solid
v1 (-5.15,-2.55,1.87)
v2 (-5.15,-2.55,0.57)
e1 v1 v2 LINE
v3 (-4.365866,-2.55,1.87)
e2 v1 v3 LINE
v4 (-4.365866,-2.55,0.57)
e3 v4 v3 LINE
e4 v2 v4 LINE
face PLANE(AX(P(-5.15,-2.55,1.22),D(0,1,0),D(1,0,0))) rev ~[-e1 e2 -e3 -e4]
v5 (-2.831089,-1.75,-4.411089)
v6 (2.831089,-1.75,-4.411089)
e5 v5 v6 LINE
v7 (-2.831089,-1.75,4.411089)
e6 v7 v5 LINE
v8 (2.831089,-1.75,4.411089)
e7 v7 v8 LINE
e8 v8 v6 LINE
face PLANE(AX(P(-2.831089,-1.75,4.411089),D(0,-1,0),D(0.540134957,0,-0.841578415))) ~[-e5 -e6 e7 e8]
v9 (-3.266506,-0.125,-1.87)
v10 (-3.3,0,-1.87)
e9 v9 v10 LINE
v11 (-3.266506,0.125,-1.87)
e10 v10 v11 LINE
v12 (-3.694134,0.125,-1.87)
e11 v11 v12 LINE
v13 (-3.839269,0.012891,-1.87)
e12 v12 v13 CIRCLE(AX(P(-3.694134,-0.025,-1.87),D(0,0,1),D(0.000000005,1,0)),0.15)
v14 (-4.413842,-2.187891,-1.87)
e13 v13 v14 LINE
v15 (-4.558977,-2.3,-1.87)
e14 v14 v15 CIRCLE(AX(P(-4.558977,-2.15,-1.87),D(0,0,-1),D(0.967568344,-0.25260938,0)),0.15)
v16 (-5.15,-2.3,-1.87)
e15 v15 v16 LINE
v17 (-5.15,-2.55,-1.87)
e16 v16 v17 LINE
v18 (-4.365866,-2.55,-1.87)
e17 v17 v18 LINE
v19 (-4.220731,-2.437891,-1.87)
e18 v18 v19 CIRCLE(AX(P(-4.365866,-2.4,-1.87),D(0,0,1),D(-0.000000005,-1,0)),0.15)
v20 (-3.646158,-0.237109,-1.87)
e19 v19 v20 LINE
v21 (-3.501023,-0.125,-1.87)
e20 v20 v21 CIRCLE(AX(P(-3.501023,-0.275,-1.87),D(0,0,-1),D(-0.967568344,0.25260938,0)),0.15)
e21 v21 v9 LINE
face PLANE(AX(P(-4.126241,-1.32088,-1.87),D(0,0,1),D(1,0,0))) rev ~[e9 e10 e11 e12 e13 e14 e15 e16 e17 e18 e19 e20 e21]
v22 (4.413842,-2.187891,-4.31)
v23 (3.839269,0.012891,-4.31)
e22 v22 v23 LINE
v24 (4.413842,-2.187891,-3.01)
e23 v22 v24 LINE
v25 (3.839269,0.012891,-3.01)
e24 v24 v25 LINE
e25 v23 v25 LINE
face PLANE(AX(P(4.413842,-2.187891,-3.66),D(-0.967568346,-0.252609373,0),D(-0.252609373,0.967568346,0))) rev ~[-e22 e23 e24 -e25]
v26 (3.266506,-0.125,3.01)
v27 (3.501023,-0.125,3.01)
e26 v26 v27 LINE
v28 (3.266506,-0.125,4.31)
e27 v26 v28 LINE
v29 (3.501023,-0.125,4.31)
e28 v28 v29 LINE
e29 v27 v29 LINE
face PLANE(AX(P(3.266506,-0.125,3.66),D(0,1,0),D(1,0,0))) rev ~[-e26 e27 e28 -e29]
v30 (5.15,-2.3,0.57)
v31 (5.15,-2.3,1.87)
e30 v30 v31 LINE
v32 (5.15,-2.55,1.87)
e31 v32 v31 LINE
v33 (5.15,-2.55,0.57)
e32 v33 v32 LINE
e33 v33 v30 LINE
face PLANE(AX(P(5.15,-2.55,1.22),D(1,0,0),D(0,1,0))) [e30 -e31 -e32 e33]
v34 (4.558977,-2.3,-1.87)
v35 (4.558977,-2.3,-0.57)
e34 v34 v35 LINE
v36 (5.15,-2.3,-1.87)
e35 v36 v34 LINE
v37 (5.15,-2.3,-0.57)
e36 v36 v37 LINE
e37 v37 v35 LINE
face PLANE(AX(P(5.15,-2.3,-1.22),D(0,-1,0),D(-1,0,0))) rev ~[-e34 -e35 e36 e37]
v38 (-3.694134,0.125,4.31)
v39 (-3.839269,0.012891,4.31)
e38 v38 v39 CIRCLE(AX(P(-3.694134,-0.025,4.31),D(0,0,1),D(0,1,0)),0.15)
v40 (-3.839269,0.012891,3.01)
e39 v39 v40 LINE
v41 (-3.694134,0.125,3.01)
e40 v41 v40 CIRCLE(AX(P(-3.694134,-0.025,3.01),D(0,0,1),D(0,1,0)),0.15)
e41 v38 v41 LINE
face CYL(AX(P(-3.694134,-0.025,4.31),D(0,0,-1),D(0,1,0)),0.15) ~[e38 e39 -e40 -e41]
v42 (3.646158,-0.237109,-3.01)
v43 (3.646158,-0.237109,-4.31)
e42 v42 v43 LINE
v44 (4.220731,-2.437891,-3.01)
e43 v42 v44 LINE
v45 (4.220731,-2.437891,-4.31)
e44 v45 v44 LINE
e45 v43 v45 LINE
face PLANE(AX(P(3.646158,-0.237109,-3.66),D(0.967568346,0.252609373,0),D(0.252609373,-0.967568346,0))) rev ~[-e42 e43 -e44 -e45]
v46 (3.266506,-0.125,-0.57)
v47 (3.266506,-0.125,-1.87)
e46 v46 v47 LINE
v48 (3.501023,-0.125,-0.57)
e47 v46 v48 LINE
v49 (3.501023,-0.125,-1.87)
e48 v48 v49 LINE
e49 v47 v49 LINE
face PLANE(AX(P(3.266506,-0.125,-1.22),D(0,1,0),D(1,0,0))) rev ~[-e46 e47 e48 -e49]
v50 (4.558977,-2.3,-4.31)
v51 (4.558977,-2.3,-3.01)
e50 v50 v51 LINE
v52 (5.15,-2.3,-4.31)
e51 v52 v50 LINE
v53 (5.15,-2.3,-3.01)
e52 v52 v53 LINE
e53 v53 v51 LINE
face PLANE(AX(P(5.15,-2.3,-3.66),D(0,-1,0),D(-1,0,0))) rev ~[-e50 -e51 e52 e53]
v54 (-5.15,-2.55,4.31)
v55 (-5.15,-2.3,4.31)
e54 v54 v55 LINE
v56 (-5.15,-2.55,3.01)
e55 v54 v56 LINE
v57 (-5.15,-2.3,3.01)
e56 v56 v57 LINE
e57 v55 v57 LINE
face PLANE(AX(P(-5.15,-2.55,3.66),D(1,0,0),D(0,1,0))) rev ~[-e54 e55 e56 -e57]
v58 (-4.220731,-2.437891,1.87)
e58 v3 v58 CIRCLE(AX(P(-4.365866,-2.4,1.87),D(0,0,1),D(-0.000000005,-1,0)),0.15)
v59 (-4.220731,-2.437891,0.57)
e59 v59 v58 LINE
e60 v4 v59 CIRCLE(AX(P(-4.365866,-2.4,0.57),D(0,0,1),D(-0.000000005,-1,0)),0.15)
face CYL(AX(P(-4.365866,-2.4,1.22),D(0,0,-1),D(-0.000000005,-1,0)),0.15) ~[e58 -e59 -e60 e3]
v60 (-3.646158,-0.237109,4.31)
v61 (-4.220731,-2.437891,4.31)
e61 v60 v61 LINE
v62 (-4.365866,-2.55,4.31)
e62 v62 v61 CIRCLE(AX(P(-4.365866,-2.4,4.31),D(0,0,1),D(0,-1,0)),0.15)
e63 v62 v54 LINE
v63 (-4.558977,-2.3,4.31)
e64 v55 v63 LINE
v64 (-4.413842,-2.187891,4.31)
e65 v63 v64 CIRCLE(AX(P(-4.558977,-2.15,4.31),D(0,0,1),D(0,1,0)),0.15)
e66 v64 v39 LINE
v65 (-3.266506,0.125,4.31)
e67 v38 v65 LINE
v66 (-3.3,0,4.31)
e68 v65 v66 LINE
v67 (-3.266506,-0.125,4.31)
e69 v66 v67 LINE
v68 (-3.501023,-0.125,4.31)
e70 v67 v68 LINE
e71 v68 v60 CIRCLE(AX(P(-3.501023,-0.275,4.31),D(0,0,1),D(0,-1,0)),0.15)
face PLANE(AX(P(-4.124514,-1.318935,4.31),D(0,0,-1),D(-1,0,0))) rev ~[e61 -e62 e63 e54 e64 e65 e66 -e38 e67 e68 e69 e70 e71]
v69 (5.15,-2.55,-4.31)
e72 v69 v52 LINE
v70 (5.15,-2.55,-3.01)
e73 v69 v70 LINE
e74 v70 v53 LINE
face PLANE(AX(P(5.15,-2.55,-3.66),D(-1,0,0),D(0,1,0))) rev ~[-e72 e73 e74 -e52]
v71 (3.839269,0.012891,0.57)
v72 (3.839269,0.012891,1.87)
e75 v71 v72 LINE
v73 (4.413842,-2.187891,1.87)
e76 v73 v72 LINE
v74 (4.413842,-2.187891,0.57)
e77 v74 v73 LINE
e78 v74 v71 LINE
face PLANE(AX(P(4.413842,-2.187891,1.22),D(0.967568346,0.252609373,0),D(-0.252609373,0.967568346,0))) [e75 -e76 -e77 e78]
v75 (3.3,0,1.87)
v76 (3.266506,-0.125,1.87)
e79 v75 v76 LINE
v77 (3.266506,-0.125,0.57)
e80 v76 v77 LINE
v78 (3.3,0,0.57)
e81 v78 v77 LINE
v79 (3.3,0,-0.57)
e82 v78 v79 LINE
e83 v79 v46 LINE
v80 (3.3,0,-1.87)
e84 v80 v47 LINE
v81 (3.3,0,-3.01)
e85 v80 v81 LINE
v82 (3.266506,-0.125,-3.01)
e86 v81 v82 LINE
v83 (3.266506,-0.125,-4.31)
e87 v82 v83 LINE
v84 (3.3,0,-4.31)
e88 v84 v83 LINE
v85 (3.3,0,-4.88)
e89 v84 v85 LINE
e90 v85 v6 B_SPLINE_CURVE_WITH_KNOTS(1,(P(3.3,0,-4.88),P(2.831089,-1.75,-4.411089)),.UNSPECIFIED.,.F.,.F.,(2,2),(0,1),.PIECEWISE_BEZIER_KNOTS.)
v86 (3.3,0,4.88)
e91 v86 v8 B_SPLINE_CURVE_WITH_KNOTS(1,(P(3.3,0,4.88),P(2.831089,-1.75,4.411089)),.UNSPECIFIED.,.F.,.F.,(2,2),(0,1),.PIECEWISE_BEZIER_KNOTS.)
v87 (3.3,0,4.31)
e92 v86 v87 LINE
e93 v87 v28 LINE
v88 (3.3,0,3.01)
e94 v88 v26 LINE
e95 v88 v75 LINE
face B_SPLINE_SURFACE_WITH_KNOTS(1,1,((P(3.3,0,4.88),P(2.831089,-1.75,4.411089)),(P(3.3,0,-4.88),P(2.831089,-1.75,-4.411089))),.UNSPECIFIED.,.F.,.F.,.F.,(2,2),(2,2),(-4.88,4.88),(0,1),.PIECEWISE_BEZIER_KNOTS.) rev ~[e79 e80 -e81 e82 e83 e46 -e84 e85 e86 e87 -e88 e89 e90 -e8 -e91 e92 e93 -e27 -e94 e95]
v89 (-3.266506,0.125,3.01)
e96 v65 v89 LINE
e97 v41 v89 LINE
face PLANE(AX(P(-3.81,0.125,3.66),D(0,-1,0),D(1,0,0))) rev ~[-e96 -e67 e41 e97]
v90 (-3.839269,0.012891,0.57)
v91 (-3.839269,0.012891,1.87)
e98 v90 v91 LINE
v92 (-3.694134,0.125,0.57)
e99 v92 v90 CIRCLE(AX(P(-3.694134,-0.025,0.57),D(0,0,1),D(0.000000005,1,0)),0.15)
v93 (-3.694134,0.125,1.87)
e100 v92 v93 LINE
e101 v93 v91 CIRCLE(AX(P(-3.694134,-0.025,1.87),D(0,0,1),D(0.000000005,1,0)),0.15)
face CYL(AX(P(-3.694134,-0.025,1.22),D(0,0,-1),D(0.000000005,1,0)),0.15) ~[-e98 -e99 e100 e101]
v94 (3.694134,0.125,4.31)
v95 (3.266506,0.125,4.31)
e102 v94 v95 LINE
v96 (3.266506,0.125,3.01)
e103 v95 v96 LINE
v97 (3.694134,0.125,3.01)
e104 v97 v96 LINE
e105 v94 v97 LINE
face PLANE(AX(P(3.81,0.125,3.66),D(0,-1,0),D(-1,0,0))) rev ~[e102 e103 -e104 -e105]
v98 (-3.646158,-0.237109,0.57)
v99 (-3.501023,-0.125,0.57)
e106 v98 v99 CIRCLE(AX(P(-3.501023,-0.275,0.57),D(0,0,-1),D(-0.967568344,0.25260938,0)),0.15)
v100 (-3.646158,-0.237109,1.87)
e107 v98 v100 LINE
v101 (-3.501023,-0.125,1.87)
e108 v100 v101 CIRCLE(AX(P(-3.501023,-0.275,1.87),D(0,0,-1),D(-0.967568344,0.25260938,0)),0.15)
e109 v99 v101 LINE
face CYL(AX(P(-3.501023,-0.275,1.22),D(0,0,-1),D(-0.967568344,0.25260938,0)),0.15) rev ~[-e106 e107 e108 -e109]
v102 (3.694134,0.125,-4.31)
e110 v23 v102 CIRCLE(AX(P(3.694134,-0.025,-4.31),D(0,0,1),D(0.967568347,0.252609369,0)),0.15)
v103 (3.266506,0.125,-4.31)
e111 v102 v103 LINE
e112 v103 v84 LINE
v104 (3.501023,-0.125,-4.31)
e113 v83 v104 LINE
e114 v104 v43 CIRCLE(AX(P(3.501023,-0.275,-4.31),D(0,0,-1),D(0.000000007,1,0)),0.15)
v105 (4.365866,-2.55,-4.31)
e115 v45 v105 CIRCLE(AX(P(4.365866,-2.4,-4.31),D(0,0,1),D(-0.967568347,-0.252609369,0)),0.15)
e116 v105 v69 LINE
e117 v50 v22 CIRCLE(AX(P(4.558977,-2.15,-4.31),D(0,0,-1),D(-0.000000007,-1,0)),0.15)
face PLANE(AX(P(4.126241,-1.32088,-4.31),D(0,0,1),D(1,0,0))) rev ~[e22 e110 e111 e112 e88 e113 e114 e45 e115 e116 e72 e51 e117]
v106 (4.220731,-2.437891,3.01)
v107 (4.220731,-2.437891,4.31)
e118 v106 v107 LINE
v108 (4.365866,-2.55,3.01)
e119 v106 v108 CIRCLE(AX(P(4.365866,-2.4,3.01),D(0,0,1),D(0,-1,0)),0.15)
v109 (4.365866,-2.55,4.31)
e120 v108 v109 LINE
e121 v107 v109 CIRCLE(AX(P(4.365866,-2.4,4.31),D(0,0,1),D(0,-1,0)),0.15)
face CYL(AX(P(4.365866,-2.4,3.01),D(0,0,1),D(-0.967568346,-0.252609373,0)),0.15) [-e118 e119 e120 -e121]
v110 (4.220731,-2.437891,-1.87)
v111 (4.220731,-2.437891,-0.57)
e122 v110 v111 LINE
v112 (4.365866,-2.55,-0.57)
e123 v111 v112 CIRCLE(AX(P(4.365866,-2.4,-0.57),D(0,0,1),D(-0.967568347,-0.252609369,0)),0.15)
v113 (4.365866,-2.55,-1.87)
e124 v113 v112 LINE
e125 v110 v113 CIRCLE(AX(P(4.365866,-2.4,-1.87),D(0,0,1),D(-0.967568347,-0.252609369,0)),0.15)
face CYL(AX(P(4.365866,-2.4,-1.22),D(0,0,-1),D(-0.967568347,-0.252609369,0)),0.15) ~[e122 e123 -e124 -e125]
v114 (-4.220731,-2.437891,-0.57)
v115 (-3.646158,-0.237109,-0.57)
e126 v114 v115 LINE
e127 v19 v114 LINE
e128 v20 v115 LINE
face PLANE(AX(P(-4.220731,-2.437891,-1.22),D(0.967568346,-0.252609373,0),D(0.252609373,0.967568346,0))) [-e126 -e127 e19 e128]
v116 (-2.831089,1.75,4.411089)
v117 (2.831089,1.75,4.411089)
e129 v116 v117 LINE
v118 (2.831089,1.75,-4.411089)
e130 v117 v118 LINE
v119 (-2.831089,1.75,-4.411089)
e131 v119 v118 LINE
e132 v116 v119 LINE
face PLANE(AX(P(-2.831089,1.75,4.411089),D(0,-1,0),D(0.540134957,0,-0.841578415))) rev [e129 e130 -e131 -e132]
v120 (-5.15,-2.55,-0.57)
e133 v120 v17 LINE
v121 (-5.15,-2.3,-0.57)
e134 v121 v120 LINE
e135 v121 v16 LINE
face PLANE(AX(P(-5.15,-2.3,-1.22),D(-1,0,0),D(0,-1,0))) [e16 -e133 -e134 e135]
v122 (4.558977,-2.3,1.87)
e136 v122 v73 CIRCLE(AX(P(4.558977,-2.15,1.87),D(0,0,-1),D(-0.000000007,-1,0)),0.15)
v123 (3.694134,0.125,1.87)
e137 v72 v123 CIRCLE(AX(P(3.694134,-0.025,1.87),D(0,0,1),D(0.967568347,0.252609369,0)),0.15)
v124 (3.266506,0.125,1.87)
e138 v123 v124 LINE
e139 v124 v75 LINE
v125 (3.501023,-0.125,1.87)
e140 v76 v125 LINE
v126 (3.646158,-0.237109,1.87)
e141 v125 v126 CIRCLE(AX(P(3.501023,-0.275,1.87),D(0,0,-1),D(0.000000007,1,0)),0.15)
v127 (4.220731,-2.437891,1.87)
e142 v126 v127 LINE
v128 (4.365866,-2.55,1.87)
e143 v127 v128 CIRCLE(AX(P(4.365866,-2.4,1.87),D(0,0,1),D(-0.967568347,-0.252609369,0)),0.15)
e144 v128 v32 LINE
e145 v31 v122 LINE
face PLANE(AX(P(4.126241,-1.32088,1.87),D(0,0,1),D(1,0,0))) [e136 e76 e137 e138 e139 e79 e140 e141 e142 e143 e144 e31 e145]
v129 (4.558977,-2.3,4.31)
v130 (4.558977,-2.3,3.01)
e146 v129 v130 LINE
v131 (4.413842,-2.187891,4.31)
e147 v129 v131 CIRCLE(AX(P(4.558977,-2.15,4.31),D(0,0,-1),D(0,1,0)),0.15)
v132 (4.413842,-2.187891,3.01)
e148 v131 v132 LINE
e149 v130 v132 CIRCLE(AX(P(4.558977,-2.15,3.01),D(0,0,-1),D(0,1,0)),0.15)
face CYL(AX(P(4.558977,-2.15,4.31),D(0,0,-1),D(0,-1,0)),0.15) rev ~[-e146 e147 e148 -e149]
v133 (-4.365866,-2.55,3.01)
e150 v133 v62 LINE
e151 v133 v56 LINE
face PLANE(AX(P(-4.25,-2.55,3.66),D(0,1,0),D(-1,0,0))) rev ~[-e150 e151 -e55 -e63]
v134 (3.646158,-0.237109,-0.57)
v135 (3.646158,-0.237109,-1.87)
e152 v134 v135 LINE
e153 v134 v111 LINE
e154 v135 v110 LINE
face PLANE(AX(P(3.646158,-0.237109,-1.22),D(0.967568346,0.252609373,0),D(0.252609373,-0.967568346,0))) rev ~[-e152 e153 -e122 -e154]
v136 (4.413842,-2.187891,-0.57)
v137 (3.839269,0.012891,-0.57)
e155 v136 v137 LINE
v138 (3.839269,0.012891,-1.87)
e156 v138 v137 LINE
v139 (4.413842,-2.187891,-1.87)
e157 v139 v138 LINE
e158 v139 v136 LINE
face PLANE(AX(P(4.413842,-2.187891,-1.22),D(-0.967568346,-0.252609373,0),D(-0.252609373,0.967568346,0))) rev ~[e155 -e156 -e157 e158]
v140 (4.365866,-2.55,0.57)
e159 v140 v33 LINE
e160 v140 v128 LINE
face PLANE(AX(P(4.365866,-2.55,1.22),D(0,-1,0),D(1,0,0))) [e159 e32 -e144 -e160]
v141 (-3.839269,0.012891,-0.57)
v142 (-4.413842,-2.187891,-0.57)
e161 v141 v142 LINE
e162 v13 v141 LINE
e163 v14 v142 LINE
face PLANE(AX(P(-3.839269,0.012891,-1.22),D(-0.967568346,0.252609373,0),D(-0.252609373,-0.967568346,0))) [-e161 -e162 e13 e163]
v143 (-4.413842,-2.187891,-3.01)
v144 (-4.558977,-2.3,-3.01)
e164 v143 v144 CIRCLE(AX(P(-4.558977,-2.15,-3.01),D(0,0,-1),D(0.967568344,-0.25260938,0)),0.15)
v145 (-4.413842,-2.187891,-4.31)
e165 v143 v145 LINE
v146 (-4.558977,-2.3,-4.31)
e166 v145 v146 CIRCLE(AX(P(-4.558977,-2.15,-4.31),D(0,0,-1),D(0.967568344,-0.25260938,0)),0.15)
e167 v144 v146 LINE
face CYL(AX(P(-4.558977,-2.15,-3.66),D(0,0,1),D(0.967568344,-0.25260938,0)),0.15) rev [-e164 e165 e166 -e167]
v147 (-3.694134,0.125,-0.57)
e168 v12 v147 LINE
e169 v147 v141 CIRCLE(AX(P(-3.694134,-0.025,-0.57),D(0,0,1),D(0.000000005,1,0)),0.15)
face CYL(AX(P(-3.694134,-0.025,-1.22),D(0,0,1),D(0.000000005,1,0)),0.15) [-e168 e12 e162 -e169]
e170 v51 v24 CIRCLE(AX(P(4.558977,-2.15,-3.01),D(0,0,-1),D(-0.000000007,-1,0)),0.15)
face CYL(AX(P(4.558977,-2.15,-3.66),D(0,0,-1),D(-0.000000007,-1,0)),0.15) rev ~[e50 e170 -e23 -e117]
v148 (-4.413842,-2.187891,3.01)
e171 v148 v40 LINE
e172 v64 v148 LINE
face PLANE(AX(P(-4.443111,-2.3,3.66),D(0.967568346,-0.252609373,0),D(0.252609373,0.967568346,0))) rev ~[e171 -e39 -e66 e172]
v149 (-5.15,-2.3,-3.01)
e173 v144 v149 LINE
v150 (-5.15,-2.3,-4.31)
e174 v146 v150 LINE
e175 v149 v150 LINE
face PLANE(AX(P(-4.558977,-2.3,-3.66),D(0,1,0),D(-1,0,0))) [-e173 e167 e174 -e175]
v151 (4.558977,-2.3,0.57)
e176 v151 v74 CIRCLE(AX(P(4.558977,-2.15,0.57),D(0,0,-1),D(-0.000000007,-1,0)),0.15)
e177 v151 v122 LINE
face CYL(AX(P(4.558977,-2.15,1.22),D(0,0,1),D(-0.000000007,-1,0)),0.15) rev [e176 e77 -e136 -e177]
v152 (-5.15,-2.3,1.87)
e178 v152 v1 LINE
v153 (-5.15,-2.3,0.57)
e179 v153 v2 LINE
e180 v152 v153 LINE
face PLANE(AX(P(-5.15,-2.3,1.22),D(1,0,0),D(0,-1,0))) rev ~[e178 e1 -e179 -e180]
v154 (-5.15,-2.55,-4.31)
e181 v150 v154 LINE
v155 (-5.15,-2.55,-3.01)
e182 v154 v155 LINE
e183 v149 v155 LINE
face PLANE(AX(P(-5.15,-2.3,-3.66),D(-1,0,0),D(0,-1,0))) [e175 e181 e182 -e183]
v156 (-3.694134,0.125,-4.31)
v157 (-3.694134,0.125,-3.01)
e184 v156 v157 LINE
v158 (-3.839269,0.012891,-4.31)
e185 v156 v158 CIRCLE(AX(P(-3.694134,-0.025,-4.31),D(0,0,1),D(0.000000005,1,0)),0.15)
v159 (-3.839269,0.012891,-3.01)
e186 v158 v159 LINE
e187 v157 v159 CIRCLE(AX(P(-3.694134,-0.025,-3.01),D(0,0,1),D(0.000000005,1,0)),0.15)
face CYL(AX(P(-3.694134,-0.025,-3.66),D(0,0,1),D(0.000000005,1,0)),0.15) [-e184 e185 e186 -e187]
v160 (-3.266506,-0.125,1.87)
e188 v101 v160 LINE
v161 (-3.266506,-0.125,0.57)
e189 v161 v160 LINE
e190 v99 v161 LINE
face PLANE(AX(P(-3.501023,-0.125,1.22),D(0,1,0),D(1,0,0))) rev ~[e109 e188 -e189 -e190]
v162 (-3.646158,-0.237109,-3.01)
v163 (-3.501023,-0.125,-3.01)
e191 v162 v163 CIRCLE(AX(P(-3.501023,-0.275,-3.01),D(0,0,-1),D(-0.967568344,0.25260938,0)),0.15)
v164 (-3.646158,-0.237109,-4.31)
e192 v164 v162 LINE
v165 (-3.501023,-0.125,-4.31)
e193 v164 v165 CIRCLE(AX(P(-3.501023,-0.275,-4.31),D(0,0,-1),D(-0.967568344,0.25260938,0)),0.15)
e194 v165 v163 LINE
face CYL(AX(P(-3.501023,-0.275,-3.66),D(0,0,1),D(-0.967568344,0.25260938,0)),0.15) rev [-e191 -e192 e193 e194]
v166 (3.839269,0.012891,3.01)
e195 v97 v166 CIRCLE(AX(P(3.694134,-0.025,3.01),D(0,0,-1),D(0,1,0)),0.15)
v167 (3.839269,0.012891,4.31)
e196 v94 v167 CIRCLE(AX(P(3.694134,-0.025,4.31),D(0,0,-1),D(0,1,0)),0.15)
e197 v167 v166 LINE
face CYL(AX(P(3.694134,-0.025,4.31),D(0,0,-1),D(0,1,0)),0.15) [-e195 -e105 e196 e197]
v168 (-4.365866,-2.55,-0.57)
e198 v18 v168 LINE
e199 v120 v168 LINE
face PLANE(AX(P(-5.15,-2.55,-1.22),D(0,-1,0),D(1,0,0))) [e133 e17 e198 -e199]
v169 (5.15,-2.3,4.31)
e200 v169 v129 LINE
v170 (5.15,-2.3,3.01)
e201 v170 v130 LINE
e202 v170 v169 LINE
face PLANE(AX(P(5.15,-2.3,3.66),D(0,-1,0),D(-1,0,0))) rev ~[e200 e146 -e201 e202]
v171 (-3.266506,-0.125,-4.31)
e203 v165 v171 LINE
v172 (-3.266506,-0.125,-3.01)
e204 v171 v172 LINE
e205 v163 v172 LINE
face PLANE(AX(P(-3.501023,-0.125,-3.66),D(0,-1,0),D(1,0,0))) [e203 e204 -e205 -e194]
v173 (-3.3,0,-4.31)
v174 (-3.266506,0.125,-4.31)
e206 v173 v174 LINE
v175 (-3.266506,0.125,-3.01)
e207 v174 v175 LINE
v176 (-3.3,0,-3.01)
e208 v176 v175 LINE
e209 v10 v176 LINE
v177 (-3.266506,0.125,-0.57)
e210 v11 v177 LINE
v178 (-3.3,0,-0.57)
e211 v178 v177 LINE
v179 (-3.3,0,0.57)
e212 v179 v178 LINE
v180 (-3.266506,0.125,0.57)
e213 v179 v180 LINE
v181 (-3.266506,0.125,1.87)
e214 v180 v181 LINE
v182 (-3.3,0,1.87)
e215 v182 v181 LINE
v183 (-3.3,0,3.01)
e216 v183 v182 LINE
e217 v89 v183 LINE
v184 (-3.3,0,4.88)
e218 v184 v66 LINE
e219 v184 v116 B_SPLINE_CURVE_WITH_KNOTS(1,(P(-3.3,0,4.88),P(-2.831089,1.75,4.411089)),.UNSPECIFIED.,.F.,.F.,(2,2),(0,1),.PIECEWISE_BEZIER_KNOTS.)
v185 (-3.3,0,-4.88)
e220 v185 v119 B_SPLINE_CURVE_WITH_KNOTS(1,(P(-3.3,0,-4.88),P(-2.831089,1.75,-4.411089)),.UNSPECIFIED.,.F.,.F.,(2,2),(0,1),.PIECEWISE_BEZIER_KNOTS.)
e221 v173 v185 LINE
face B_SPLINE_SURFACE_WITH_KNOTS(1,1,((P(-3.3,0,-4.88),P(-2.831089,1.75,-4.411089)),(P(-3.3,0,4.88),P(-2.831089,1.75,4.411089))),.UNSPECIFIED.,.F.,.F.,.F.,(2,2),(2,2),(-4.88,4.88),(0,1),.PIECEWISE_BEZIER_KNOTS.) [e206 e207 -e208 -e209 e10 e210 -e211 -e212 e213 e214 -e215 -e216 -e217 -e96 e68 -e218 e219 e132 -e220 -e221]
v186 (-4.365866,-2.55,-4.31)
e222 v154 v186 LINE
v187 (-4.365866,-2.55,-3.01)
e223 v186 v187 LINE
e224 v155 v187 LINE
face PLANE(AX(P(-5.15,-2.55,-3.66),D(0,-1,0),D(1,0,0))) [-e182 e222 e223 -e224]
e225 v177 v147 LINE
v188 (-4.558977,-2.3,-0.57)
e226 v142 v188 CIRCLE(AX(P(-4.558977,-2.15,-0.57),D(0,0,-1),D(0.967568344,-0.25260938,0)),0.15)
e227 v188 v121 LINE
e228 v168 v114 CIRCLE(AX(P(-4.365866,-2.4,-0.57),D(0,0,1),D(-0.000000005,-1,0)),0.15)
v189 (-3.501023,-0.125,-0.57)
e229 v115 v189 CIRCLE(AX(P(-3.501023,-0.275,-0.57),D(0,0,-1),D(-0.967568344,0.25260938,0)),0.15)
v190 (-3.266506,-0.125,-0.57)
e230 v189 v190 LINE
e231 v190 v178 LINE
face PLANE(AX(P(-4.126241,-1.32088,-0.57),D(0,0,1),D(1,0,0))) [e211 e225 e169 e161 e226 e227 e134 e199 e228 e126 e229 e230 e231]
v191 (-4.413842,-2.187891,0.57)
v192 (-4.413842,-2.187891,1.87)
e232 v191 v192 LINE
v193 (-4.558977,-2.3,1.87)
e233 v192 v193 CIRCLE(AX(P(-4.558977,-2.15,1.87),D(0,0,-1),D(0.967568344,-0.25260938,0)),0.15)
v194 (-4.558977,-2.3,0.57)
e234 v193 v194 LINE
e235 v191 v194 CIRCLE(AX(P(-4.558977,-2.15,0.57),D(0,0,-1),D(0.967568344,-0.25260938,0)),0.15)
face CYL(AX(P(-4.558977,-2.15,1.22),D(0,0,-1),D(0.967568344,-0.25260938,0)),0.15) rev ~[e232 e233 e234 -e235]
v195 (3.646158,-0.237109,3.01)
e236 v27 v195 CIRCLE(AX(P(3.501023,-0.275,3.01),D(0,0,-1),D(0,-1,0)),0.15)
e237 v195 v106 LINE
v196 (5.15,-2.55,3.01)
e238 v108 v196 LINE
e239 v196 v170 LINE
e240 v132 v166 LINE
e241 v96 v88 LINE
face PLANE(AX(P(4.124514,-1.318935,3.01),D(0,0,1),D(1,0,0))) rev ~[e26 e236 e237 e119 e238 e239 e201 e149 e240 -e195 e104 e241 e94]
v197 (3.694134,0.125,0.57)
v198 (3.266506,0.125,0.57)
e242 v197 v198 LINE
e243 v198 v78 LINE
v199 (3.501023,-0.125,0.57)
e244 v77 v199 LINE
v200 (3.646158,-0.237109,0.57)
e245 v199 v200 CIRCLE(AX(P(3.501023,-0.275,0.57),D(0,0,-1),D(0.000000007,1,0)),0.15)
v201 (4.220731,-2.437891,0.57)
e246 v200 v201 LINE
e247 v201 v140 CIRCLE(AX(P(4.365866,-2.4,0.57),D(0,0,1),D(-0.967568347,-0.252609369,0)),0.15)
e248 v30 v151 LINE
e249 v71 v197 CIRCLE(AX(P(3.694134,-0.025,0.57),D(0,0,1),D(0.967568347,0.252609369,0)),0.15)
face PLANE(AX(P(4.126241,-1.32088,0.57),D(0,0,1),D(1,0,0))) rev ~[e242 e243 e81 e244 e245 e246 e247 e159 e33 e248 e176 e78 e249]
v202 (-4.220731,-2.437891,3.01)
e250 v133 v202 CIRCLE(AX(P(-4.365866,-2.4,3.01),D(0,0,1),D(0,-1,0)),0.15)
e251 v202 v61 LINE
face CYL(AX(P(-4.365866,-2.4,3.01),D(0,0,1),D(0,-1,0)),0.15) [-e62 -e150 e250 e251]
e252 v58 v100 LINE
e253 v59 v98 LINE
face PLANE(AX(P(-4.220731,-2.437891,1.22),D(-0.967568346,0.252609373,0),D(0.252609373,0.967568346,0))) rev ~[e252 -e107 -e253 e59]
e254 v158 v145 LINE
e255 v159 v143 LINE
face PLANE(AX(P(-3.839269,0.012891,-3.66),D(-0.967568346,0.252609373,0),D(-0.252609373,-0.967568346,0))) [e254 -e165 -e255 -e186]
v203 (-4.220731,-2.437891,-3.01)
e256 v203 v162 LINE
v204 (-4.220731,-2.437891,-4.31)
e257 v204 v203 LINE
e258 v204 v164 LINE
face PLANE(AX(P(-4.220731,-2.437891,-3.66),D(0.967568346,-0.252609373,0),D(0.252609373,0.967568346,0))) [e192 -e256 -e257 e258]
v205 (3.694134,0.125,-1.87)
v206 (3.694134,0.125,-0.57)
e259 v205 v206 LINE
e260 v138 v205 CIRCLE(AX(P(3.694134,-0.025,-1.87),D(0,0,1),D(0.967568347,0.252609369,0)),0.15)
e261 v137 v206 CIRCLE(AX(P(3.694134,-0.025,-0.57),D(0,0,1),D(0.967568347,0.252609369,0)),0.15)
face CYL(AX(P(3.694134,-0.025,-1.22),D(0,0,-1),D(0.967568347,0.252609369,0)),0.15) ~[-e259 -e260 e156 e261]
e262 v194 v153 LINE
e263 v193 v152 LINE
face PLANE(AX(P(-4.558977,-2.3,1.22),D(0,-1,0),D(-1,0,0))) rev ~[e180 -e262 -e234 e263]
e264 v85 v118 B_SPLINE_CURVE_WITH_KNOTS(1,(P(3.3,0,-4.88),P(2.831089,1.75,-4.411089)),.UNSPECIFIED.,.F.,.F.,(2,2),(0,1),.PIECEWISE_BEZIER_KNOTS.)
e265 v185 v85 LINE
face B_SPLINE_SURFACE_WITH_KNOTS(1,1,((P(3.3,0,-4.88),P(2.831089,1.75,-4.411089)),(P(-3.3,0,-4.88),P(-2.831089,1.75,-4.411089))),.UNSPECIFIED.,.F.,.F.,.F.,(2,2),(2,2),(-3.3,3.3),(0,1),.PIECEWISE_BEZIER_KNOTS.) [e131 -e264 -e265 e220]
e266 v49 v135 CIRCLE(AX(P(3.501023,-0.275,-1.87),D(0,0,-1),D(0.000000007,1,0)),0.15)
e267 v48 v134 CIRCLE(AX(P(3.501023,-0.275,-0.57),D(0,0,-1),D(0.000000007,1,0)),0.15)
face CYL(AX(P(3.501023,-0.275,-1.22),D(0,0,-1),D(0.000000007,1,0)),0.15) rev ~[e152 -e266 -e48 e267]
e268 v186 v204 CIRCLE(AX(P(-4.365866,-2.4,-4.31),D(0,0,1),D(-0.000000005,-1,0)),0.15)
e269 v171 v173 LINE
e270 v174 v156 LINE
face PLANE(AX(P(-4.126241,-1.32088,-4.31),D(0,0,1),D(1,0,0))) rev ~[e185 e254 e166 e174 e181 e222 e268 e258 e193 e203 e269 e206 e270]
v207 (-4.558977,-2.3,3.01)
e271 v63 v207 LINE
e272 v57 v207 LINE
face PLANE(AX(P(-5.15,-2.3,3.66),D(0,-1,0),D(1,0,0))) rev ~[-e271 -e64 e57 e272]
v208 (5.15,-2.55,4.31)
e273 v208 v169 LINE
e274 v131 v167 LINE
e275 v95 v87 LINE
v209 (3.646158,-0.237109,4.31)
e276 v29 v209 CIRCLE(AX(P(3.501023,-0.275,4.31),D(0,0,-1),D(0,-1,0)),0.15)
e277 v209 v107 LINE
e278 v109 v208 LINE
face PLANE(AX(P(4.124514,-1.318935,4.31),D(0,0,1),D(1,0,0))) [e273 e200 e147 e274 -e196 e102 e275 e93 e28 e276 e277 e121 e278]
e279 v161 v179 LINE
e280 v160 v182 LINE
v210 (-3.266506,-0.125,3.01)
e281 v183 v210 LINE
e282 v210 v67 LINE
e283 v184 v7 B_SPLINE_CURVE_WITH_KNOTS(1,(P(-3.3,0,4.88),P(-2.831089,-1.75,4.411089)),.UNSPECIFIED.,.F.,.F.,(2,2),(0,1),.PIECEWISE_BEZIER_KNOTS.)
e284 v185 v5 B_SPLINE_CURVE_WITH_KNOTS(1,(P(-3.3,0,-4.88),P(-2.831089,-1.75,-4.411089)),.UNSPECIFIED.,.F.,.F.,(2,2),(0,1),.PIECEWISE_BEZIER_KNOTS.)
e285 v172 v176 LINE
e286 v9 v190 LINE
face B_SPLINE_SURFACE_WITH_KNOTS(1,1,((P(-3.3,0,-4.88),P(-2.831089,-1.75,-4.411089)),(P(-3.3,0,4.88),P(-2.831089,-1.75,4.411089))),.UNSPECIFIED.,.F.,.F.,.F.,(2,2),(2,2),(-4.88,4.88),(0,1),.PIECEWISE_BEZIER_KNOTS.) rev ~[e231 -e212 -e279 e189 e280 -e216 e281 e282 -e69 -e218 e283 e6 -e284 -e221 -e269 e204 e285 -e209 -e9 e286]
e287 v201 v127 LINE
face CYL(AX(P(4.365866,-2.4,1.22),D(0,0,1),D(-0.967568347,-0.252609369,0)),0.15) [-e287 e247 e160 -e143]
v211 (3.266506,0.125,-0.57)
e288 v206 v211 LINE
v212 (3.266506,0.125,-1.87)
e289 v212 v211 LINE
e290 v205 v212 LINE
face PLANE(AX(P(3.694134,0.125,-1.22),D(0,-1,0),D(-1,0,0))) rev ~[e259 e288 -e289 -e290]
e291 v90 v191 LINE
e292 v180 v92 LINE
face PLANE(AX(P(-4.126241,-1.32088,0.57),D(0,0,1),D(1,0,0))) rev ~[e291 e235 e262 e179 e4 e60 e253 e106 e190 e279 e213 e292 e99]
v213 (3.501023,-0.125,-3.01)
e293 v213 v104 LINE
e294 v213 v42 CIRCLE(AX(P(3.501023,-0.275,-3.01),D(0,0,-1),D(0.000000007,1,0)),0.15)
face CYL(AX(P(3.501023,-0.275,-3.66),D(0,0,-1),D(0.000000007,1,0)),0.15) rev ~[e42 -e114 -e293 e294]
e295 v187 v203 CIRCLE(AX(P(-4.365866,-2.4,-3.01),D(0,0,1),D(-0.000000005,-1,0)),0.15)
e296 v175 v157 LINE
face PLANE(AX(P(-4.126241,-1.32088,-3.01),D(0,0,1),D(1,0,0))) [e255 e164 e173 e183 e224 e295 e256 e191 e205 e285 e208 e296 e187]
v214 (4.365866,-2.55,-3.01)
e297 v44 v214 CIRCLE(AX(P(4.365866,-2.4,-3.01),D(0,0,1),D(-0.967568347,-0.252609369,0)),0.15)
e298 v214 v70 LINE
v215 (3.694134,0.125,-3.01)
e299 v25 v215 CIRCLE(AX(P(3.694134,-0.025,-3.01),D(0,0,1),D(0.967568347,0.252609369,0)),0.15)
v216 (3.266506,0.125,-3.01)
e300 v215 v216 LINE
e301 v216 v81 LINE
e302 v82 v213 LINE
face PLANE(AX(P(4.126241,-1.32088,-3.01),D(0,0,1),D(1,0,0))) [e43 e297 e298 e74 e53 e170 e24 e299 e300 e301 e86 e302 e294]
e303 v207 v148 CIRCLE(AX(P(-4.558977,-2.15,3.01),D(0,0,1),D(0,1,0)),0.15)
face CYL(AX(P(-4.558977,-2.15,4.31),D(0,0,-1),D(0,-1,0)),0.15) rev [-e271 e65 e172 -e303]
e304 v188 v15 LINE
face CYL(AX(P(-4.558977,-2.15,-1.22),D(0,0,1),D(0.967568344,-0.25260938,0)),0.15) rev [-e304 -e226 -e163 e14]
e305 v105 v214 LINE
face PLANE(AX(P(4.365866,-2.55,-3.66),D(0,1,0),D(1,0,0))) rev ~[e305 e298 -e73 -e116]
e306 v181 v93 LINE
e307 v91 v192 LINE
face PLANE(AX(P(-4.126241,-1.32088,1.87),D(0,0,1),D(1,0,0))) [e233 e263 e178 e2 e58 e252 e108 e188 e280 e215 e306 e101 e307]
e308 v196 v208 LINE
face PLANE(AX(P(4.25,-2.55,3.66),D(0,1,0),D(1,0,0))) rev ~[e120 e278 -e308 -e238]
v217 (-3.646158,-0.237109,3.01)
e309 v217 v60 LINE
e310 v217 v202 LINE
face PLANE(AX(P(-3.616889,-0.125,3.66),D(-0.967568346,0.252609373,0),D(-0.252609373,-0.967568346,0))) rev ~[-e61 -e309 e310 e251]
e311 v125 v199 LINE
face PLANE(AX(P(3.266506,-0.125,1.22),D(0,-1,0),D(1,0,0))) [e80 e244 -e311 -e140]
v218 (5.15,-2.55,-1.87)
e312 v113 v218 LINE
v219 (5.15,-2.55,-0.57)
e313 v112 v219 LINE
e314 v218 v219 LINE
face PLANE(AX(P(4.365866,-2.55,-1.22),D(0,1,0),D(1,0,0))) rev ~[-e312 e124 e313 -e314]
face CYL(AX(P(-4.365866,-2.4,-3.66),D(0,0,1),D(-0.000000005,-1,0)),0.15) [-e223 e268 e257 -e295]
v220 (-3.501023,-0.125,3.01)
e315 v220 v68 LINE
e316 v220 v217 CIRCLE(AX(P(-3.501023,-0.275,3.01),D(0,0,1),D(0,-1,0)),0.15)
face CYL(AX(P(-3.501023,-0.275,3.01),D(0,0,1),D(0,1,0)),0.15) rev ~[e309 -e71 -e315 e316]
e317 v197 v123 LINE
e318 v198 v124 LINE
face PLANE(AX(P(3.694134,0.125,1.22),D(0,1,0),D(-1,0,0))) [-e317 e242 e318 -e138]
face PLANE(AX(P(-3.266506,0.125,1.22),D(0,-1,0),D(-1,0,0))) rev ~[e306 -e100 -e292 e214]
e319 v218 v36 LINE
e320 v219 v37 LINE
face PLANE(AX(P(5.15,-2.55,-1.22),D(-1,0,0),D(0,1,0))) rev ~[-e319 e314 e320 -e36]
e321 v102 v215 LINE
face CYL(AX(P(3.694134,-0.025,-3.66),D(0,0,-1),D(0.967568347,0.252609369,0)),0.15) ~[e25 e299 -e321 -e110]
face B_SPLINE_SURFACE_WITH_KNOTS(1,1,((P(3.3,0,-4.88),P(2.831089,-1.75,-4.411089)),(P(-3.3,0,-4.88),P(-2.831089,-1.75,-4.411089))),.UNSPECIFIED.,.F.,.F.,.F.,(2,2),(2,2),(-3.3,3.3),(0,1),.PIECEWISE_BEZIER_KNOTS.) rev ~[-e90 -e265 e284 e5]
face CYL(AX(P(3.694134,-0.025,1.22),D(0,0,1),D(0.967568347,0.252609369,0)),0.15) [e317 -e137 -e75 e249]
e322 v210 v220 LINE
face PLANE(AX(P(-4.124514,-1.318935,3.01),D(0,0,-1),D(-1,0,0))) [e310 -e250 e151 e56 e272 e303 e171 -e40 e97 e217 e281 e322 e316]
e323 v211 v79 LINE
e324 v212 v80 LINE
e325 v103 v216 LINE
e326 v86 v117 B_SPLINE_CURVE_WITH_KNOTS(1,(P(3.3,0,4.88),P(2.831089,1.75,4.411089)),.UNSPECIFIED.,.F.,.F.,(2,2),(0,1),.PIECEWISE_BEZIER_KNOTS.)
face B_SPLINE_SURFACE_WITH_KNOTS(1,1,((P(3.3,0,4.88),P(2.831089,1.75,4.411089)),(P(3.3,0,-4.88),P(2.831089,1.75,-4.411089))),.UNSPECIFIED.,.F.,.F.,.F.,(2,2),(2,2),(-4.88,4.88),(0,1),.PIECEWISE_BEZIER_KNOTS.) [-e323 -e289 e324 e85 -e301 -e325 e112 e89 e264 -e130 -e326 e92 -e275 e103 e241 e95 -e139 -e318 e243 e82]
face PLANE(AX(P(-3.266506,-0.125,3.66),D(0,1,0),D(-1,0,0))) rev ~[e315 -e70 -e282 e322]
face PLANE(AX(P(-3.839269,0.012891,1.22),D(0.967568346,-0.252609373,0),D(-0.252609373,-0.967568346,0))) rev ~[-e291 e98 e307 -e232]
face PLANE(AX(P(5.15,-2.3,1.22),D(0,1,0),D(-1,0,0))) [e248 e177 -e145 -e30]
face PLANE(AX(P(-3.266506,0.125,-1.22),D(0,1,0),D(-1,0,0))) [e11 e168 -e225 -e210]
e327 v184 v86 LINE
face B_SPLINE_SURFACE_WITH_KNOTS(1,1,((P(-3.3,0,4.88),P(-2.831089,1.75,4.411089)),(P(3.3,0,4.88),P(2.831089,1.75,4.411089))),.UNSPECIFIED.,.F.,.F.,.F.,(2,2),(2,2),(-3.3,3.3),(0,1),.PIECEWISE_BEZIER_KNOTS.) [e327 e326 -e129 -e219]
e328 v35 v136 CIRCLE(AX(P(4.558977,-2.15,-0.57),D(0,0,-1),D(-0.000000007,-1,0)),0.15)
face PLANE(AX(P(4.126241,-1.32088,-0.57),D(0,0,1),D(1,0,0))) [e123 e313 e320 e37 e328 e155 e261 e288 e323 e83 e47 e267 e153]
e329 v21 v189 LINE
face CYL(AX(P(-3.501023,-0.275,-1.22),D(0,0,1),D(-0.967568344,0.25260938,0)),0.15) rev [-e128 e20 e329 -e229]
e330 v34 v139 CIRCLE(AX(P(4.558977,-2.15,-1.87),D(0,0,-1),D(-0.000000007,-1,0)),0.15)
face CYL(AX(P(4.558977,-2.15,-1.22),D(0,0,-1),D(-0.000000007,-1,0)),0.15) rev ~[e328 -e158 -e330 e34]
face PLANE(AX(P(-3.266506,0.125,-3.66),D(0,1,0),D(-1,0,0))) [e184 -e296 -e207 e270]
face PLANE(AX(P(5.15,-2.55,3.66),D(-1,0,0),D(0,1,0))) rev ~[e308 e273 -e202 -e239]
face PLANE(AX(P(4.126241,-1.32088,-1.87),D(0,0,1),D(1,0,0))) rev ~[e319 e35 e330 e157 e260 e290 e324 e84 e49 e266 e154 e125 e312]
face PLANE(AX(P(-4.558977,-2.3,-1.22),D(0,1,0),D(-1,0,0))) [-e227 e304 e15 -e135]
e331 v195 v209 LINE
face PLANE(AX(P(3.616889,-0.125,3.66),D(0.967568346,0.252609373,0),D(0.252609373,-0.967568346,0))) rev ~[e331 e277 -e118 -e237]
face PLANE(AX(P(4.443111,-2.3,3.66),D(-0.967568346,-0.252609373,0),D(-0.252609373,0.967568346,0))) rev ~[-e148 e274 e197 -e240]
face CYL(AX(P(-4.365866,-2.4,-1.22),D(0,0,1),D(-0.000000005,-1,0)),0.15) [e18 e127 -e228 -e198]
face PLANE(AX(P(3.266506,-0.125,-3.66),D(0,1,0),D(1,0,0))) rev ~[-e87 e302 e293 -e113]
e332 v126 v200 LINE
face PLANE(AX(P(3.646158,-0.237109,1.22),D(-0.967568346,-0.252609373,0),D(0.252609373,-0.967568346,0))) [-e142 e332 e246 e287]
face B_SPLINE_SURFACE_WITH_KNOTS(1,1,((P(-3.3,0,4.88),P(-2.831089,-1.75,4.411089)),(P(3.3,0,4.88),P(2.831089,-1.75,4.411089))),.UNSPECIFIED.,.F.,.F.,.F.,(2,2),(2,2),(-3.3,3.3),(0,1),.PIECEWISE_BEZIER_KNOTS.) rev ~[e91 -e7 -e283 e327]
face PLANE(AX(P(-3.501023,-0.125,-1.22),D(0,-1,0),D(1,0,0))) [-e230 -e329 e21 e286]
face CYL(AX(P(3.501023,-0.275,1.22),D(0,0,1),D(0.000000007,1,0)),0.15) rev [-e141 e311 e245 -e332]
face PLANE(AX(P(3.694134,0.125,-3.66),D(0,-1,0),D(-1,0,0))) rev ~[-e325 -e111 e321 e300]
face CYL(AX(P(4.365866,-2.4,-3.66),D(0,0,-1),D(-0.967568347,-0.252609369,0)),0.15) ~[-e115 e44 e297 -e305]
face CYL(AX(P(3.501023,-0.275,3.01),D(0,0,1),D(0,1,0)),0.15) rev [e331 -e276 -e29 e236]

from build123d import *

# Parameters (mm, degrees)
SKETCH2_W                     = 6.6
SKETCH2_H                     = 9.76
BOSS_EXTRUDE1_DEPTH           = 1.75
BOSS_EXTRUDE1_TAPER           = 15
BOSS_EXTRUDE1_OTHER_WAY_DEPTH = 1.75
BOSS_EXTRUDE1_OTHER_WAY_TAPER = 15
BOSS_EXTRUDE2_DEPTH           = 0.65
FILLET1_R                     = 0.15
BOSS_EXTRUDE3_DEPTH           = 0.65
BOSS_EXTRUDE4_DEPTH           = 0.65
BOSS_EXTRUDE5_DEPTH           = 0.65


with BuildPart() as part:
    # Sketch2 → Boss-Extrude1 (new body)
    with BuildSketch(Plane(origin=(0, 0, 0), x_dir=(1, 0, 0), z_dir=(0, 1, 0))):
        Rectangle(SKETCH2_W, SKETCH2_H)
    extrude(amount=BOSS_EXTRUDE1_DEPTH, taper=BOSS_EXTRUDE1_TAPER)

    # Sketch2 → Boss-Extrude1 other way (add)
    with BuildSketch(Plane(origin=(0, 0, 0), x_dir=(1, 0, 0), z_dir=(0, 1, 0))):
        Rectangle(SKETCH2_W, SKETCH2_H)
    extrude(amount=-BOSS_EXTRUDE1_OTHER_WAY_DEPTH, taper=BOSS_EXTRUDE1_OTHER_WAY_TAPER)

    # Sketch3 → Boss-Extrude2 (add, symmetric)
    with BuildSketch(Plane.XY.offset(3.66)):
        Polygon((3.266506351, 0.125), (3.3, 0), (3.266506351, -0.125), (3.616889449, -0.125), (4.25, -2.55), (5.15, -2.55), (5.15, -2.3), (4.443110551, -2.3), (3.81, 0.125), align=None)
        Polygon((-4.25, -2.55), (-5.15, -2.55), (-5.15, -2.3), (-4.443110551, -2.3), (-3.81, 0.125), (-3.266506351, 0.125), (-3.3, 0), (-3.266506351, -0.125), (-3.616889449, -0.125), align=None)
    extrude(amount=BOSS_EXTRUDE2_DEPTH, both=True)

    # Fillet1
    fillet1_edges = [part.edges().sort_by_distance(p)[0] for p in [
        (4.443110551, -2.3, 3.66),
        (3.81, 0.125, 3.66),
        (3.616889449, -0.125, 3.66),
        (4.25, -2.55, 3.66),
        (-4.25, -2.55, 3.66),
        (-3.616889449, -0.125, 3.66),
        (-3.81, 0.125, 3.66),
        (-4.443110551, -2.3, 3.66),
    ]]
    fillet(fillet1_edges, radius=FILLET1_R)

    # Sketch5 → Boss-Extrude3 (add, symmetric)
    with BuildSketch(Plane.XY.offset(1.22)):
        with BuildLine():
            Line((-5.15, -2.55), (-4.365866331, -2.55))
            ThreePointArc((-4.365866331, -2.55), (-4.274170395, -2.518709121), (-4.220731079, -2.437891406))
            Line((-4.220731079, -2.437891406), (-3.64615837, -0.237108594))
            ThreePointArc((-3.64615837, -0.237108594), (-3.592719053, -0.156290879), (-3.501023118, -0.125))
            Line((-3.501023118, -0.125), (-3.266506351, -0.125))
            Line((-3.266506351, -0.125), (-3.3, 0))
            Line((-3.3, 0), (-3.266506351, 0.125))
            Line((-3.266506351, 0.125), (-3.694133669, 0.125))
            ThreePointArc((-3.694133669, 0.125), (-3.785829605, 0.093709121), (-3.839268921, 0.012891406))
            Line((-3.839268921, 0.012891406), (-4.41384163, -2.187891406))
            ThreePointArc((-4.41384163, -2.187891406), (-4.467280947, -2.268709121), (-4.558976882, -2.3))
            Line((-4.558976882, -2.3), (-5.15, -2.3))
            Line((-5.15, -2.3), (-5.15, -2.55))
        make_face()
        with BuildLine():
            Line((3.64615837, -0.237108594), (4.220731079, -2.437891406))
            ThreePointArc((4.220731079, -2.437891406), (4.274170395, -2.518709121), (4.365866331, -2.55))
            Line((4.365866331, -2.55), (5.15, -2.55))
            Line((5.15, -2.55), (5.15, -2.3))
            Line((5.15, -2.3), (4.558976882, -2.3))
            ThreePointArc((4.558976882, -2.3), (4.467280947, -2.268709121), (4.41384163, -2.187891406))
            Line((4.41384163, -2.187891406), (3.839268921, 0.012891406))
            ThreePointArc((3.839268921, 0.012891406), (3.785829605, 0.093709121), (3.694133669, 0.125))
            Line((3.694133669, 0.125), (3.266506351, 0.125))
            Line((3.266506351, 0.125), (3.3, 0))
            Line((3.3, 0), (3.266506351, -0.125))
            Line((3.266506351, -0.125), (3.501023118, -0.125))
            ThreePointArc((3.501023118, -0.125), (3.592719053, -0.156290879), (3.64615837, -0.237108594))
        make_face()
    extrude(amount=BOSS_EXTRUDE3_DEPTH, both=True)

    # Sketch6 → Boss-Extrude4 (add, symmetric)
    with BuildSketch(Plane.XY.offset(-1.22)):
        with BuildLine():
            Line((3.64615837, -0.237108594), (4.220731079, -2.437891406))
            ThreePointArc((4.220731079, -2.437891406), (4.274170395, -2.518709121), (4.365866331, -2.55))
            Line((4.365866331, -2.55), (5.15, -2.55))
            Line((5.15, -2.55), (5.15, -2.3))
            Line((5.15, -2.3), (4.558976882, -2.3))
            ThreePointArc((4.558976882, -2.3), (4.467280947, -2.268709121), (4.41384163, -2.187891406))
            Line((4.41384163, -2.187891406), (3.839268921, 0.012891406))
            ThreePointArc((3.839268921, 0.012891406), (3.785829605, 0.093709121), (3.694133669, 0.125))
            Line((3.694133669, 0.125), (3.266506351, 0.125))
            Line((3.266506351, 0.125), (3.3, 0))
            Line((3.3, 0), (3.266506351, -0.125))
            Line((3.266506351, -0.125), (3.501023118, -0.125))
            ThreePointArc((3.501023118, -0.125), (3.592719053, -0.156290879), (3.64615837, -0.237108594))
        make_face()
        with BuildLine():
            Line((-5.15, -2.55), (-4.365866331, -2.55))
            ThreePointArc((-4.365866331, -2.55), (-4.274170395, -2.518709121), (-4.220731079, -2.437891406))
            Line((-4.220731079, -2.437891406), (-3.64615837, -0.237108594))
            ThreePointArc((-3.64615837, -0.237108594), (-3.592719053, -0.156290879), (-3.501023118, -0.125))
            Line((-3.501023118, -0.125), (-3.266506351, -0.125))
            Line((-3.266506351, -0.125), (-3.3, 0))
            Line((-3.3, 0), (-3.266506351, 0.125))
            Line((-3.266506351, 0.125), (-3.694133669, 0.125))
            ThreePointArc((-3.694133669, 0.125), (-3.785829605, 0.093709121), (-3.839268921, 0.012891406))
            Line((-3.839268921, 0.012891406), (-4.41384163, -2.187891406))
            ThreePointArc((-4.41384163, -2.187891406), (-4.467280947, -2.268709121), (-4.558976882, -2.3))
            Line((-4.558976882, -2.3), (-5.15, -2.3))
            Line((-5.15, -2.3), (-5.15, -2.55))
        make_face()
    extrude(amount=BOSS_EXTRUDE4_DEPTH, both=True)

    # Sketch7 → Boss-Extrude5 (add, symmetric)
    with BuildSketch(Plane.XY.offset(-3.66)):
        with BuildLine():
            Line((3.64615837, -0.237108594), (4.220731079, -2.437891406))
            ThreePointArc((4.220731079, -2.437891406), (4.274170395, -2.518709121), (4.365866331, -2.55))
            Line((4.365866331, -2.55), (5.15, -2.55))
            Line((5.15, -2.55), (5.15, -2.3))
            Line((5.15, -2.3), (4.558976882, -2.3))
            ThreePointArc((4.558976882, -2.3), (4.467280947, -2.268709121), (4.41384163, -2.187891406))
            Line((4.41384163, -2.187891406), (3.839268921, 0.012891406))
            ThreePointArc((3.839268921, 0.012891406), (3.785829605, 0.093709121), (3.694133669, 0.125))
            Line((3.694133669, 0.125), (3.266506351, 0.125))
            Line((3.266506351, 0.125), (3.3, 0))
            Line((3.3, 0), (3.266506351, -0.125))
            Line((3.266506351, -0.125), (3.501023118, -0.125))
            ThreePointArc((3.501023118, -0.125), (3.592719053, -0.156290879), (3.64615837, -0.237108594))
        make_face()
        with BuildLine():
            Line((-5.15, -2.3), (-5.15, -2.55))
            Line((-5.15, -2.55), (-4.365866331, -2.55))
            ThreePointArc((-4.365866331, -2.55), (-4.274170395, -2.518709121), (-4.220731079, -2.437891406))
            Line((-4.220731079, -2.437891406), (-3.64615837, -0.237108594))
            ThreePointArc((-3.64615837, -0.237108594), (-3.592719053, -0.156290879), (-3.501023118, -0.125))
            Line((-3.501023118, -0.125), (-3.266506351, -0.125))
            Line((-3.266506351, -0.125), (-3.3, 0))
            Line((-3.3, 0), (-3.266506351, 0.125))
            Line((-3.266506351, 0.125), (-3.694133669, 0.125))
            ThreePointArc((-3.694133669, 0.125), (-3.785829605, 0.093709121), (-3.839268921, 0.012891406))
            Line((-3.839268921, 0.012891406), (-4.41384163, -2.187891406))
            ThreePointArc((-4.41384163, -2.187891406), (-4.467280947, -2.268709121), (-4.558976882, -2.3))
            Line((-4.558976882, -2.3), (-5.15, -2.3))
        make_face()
    extrude(amount=BOSS_EXTRUDE5_DEPTH, both=True)


solid = part.part
